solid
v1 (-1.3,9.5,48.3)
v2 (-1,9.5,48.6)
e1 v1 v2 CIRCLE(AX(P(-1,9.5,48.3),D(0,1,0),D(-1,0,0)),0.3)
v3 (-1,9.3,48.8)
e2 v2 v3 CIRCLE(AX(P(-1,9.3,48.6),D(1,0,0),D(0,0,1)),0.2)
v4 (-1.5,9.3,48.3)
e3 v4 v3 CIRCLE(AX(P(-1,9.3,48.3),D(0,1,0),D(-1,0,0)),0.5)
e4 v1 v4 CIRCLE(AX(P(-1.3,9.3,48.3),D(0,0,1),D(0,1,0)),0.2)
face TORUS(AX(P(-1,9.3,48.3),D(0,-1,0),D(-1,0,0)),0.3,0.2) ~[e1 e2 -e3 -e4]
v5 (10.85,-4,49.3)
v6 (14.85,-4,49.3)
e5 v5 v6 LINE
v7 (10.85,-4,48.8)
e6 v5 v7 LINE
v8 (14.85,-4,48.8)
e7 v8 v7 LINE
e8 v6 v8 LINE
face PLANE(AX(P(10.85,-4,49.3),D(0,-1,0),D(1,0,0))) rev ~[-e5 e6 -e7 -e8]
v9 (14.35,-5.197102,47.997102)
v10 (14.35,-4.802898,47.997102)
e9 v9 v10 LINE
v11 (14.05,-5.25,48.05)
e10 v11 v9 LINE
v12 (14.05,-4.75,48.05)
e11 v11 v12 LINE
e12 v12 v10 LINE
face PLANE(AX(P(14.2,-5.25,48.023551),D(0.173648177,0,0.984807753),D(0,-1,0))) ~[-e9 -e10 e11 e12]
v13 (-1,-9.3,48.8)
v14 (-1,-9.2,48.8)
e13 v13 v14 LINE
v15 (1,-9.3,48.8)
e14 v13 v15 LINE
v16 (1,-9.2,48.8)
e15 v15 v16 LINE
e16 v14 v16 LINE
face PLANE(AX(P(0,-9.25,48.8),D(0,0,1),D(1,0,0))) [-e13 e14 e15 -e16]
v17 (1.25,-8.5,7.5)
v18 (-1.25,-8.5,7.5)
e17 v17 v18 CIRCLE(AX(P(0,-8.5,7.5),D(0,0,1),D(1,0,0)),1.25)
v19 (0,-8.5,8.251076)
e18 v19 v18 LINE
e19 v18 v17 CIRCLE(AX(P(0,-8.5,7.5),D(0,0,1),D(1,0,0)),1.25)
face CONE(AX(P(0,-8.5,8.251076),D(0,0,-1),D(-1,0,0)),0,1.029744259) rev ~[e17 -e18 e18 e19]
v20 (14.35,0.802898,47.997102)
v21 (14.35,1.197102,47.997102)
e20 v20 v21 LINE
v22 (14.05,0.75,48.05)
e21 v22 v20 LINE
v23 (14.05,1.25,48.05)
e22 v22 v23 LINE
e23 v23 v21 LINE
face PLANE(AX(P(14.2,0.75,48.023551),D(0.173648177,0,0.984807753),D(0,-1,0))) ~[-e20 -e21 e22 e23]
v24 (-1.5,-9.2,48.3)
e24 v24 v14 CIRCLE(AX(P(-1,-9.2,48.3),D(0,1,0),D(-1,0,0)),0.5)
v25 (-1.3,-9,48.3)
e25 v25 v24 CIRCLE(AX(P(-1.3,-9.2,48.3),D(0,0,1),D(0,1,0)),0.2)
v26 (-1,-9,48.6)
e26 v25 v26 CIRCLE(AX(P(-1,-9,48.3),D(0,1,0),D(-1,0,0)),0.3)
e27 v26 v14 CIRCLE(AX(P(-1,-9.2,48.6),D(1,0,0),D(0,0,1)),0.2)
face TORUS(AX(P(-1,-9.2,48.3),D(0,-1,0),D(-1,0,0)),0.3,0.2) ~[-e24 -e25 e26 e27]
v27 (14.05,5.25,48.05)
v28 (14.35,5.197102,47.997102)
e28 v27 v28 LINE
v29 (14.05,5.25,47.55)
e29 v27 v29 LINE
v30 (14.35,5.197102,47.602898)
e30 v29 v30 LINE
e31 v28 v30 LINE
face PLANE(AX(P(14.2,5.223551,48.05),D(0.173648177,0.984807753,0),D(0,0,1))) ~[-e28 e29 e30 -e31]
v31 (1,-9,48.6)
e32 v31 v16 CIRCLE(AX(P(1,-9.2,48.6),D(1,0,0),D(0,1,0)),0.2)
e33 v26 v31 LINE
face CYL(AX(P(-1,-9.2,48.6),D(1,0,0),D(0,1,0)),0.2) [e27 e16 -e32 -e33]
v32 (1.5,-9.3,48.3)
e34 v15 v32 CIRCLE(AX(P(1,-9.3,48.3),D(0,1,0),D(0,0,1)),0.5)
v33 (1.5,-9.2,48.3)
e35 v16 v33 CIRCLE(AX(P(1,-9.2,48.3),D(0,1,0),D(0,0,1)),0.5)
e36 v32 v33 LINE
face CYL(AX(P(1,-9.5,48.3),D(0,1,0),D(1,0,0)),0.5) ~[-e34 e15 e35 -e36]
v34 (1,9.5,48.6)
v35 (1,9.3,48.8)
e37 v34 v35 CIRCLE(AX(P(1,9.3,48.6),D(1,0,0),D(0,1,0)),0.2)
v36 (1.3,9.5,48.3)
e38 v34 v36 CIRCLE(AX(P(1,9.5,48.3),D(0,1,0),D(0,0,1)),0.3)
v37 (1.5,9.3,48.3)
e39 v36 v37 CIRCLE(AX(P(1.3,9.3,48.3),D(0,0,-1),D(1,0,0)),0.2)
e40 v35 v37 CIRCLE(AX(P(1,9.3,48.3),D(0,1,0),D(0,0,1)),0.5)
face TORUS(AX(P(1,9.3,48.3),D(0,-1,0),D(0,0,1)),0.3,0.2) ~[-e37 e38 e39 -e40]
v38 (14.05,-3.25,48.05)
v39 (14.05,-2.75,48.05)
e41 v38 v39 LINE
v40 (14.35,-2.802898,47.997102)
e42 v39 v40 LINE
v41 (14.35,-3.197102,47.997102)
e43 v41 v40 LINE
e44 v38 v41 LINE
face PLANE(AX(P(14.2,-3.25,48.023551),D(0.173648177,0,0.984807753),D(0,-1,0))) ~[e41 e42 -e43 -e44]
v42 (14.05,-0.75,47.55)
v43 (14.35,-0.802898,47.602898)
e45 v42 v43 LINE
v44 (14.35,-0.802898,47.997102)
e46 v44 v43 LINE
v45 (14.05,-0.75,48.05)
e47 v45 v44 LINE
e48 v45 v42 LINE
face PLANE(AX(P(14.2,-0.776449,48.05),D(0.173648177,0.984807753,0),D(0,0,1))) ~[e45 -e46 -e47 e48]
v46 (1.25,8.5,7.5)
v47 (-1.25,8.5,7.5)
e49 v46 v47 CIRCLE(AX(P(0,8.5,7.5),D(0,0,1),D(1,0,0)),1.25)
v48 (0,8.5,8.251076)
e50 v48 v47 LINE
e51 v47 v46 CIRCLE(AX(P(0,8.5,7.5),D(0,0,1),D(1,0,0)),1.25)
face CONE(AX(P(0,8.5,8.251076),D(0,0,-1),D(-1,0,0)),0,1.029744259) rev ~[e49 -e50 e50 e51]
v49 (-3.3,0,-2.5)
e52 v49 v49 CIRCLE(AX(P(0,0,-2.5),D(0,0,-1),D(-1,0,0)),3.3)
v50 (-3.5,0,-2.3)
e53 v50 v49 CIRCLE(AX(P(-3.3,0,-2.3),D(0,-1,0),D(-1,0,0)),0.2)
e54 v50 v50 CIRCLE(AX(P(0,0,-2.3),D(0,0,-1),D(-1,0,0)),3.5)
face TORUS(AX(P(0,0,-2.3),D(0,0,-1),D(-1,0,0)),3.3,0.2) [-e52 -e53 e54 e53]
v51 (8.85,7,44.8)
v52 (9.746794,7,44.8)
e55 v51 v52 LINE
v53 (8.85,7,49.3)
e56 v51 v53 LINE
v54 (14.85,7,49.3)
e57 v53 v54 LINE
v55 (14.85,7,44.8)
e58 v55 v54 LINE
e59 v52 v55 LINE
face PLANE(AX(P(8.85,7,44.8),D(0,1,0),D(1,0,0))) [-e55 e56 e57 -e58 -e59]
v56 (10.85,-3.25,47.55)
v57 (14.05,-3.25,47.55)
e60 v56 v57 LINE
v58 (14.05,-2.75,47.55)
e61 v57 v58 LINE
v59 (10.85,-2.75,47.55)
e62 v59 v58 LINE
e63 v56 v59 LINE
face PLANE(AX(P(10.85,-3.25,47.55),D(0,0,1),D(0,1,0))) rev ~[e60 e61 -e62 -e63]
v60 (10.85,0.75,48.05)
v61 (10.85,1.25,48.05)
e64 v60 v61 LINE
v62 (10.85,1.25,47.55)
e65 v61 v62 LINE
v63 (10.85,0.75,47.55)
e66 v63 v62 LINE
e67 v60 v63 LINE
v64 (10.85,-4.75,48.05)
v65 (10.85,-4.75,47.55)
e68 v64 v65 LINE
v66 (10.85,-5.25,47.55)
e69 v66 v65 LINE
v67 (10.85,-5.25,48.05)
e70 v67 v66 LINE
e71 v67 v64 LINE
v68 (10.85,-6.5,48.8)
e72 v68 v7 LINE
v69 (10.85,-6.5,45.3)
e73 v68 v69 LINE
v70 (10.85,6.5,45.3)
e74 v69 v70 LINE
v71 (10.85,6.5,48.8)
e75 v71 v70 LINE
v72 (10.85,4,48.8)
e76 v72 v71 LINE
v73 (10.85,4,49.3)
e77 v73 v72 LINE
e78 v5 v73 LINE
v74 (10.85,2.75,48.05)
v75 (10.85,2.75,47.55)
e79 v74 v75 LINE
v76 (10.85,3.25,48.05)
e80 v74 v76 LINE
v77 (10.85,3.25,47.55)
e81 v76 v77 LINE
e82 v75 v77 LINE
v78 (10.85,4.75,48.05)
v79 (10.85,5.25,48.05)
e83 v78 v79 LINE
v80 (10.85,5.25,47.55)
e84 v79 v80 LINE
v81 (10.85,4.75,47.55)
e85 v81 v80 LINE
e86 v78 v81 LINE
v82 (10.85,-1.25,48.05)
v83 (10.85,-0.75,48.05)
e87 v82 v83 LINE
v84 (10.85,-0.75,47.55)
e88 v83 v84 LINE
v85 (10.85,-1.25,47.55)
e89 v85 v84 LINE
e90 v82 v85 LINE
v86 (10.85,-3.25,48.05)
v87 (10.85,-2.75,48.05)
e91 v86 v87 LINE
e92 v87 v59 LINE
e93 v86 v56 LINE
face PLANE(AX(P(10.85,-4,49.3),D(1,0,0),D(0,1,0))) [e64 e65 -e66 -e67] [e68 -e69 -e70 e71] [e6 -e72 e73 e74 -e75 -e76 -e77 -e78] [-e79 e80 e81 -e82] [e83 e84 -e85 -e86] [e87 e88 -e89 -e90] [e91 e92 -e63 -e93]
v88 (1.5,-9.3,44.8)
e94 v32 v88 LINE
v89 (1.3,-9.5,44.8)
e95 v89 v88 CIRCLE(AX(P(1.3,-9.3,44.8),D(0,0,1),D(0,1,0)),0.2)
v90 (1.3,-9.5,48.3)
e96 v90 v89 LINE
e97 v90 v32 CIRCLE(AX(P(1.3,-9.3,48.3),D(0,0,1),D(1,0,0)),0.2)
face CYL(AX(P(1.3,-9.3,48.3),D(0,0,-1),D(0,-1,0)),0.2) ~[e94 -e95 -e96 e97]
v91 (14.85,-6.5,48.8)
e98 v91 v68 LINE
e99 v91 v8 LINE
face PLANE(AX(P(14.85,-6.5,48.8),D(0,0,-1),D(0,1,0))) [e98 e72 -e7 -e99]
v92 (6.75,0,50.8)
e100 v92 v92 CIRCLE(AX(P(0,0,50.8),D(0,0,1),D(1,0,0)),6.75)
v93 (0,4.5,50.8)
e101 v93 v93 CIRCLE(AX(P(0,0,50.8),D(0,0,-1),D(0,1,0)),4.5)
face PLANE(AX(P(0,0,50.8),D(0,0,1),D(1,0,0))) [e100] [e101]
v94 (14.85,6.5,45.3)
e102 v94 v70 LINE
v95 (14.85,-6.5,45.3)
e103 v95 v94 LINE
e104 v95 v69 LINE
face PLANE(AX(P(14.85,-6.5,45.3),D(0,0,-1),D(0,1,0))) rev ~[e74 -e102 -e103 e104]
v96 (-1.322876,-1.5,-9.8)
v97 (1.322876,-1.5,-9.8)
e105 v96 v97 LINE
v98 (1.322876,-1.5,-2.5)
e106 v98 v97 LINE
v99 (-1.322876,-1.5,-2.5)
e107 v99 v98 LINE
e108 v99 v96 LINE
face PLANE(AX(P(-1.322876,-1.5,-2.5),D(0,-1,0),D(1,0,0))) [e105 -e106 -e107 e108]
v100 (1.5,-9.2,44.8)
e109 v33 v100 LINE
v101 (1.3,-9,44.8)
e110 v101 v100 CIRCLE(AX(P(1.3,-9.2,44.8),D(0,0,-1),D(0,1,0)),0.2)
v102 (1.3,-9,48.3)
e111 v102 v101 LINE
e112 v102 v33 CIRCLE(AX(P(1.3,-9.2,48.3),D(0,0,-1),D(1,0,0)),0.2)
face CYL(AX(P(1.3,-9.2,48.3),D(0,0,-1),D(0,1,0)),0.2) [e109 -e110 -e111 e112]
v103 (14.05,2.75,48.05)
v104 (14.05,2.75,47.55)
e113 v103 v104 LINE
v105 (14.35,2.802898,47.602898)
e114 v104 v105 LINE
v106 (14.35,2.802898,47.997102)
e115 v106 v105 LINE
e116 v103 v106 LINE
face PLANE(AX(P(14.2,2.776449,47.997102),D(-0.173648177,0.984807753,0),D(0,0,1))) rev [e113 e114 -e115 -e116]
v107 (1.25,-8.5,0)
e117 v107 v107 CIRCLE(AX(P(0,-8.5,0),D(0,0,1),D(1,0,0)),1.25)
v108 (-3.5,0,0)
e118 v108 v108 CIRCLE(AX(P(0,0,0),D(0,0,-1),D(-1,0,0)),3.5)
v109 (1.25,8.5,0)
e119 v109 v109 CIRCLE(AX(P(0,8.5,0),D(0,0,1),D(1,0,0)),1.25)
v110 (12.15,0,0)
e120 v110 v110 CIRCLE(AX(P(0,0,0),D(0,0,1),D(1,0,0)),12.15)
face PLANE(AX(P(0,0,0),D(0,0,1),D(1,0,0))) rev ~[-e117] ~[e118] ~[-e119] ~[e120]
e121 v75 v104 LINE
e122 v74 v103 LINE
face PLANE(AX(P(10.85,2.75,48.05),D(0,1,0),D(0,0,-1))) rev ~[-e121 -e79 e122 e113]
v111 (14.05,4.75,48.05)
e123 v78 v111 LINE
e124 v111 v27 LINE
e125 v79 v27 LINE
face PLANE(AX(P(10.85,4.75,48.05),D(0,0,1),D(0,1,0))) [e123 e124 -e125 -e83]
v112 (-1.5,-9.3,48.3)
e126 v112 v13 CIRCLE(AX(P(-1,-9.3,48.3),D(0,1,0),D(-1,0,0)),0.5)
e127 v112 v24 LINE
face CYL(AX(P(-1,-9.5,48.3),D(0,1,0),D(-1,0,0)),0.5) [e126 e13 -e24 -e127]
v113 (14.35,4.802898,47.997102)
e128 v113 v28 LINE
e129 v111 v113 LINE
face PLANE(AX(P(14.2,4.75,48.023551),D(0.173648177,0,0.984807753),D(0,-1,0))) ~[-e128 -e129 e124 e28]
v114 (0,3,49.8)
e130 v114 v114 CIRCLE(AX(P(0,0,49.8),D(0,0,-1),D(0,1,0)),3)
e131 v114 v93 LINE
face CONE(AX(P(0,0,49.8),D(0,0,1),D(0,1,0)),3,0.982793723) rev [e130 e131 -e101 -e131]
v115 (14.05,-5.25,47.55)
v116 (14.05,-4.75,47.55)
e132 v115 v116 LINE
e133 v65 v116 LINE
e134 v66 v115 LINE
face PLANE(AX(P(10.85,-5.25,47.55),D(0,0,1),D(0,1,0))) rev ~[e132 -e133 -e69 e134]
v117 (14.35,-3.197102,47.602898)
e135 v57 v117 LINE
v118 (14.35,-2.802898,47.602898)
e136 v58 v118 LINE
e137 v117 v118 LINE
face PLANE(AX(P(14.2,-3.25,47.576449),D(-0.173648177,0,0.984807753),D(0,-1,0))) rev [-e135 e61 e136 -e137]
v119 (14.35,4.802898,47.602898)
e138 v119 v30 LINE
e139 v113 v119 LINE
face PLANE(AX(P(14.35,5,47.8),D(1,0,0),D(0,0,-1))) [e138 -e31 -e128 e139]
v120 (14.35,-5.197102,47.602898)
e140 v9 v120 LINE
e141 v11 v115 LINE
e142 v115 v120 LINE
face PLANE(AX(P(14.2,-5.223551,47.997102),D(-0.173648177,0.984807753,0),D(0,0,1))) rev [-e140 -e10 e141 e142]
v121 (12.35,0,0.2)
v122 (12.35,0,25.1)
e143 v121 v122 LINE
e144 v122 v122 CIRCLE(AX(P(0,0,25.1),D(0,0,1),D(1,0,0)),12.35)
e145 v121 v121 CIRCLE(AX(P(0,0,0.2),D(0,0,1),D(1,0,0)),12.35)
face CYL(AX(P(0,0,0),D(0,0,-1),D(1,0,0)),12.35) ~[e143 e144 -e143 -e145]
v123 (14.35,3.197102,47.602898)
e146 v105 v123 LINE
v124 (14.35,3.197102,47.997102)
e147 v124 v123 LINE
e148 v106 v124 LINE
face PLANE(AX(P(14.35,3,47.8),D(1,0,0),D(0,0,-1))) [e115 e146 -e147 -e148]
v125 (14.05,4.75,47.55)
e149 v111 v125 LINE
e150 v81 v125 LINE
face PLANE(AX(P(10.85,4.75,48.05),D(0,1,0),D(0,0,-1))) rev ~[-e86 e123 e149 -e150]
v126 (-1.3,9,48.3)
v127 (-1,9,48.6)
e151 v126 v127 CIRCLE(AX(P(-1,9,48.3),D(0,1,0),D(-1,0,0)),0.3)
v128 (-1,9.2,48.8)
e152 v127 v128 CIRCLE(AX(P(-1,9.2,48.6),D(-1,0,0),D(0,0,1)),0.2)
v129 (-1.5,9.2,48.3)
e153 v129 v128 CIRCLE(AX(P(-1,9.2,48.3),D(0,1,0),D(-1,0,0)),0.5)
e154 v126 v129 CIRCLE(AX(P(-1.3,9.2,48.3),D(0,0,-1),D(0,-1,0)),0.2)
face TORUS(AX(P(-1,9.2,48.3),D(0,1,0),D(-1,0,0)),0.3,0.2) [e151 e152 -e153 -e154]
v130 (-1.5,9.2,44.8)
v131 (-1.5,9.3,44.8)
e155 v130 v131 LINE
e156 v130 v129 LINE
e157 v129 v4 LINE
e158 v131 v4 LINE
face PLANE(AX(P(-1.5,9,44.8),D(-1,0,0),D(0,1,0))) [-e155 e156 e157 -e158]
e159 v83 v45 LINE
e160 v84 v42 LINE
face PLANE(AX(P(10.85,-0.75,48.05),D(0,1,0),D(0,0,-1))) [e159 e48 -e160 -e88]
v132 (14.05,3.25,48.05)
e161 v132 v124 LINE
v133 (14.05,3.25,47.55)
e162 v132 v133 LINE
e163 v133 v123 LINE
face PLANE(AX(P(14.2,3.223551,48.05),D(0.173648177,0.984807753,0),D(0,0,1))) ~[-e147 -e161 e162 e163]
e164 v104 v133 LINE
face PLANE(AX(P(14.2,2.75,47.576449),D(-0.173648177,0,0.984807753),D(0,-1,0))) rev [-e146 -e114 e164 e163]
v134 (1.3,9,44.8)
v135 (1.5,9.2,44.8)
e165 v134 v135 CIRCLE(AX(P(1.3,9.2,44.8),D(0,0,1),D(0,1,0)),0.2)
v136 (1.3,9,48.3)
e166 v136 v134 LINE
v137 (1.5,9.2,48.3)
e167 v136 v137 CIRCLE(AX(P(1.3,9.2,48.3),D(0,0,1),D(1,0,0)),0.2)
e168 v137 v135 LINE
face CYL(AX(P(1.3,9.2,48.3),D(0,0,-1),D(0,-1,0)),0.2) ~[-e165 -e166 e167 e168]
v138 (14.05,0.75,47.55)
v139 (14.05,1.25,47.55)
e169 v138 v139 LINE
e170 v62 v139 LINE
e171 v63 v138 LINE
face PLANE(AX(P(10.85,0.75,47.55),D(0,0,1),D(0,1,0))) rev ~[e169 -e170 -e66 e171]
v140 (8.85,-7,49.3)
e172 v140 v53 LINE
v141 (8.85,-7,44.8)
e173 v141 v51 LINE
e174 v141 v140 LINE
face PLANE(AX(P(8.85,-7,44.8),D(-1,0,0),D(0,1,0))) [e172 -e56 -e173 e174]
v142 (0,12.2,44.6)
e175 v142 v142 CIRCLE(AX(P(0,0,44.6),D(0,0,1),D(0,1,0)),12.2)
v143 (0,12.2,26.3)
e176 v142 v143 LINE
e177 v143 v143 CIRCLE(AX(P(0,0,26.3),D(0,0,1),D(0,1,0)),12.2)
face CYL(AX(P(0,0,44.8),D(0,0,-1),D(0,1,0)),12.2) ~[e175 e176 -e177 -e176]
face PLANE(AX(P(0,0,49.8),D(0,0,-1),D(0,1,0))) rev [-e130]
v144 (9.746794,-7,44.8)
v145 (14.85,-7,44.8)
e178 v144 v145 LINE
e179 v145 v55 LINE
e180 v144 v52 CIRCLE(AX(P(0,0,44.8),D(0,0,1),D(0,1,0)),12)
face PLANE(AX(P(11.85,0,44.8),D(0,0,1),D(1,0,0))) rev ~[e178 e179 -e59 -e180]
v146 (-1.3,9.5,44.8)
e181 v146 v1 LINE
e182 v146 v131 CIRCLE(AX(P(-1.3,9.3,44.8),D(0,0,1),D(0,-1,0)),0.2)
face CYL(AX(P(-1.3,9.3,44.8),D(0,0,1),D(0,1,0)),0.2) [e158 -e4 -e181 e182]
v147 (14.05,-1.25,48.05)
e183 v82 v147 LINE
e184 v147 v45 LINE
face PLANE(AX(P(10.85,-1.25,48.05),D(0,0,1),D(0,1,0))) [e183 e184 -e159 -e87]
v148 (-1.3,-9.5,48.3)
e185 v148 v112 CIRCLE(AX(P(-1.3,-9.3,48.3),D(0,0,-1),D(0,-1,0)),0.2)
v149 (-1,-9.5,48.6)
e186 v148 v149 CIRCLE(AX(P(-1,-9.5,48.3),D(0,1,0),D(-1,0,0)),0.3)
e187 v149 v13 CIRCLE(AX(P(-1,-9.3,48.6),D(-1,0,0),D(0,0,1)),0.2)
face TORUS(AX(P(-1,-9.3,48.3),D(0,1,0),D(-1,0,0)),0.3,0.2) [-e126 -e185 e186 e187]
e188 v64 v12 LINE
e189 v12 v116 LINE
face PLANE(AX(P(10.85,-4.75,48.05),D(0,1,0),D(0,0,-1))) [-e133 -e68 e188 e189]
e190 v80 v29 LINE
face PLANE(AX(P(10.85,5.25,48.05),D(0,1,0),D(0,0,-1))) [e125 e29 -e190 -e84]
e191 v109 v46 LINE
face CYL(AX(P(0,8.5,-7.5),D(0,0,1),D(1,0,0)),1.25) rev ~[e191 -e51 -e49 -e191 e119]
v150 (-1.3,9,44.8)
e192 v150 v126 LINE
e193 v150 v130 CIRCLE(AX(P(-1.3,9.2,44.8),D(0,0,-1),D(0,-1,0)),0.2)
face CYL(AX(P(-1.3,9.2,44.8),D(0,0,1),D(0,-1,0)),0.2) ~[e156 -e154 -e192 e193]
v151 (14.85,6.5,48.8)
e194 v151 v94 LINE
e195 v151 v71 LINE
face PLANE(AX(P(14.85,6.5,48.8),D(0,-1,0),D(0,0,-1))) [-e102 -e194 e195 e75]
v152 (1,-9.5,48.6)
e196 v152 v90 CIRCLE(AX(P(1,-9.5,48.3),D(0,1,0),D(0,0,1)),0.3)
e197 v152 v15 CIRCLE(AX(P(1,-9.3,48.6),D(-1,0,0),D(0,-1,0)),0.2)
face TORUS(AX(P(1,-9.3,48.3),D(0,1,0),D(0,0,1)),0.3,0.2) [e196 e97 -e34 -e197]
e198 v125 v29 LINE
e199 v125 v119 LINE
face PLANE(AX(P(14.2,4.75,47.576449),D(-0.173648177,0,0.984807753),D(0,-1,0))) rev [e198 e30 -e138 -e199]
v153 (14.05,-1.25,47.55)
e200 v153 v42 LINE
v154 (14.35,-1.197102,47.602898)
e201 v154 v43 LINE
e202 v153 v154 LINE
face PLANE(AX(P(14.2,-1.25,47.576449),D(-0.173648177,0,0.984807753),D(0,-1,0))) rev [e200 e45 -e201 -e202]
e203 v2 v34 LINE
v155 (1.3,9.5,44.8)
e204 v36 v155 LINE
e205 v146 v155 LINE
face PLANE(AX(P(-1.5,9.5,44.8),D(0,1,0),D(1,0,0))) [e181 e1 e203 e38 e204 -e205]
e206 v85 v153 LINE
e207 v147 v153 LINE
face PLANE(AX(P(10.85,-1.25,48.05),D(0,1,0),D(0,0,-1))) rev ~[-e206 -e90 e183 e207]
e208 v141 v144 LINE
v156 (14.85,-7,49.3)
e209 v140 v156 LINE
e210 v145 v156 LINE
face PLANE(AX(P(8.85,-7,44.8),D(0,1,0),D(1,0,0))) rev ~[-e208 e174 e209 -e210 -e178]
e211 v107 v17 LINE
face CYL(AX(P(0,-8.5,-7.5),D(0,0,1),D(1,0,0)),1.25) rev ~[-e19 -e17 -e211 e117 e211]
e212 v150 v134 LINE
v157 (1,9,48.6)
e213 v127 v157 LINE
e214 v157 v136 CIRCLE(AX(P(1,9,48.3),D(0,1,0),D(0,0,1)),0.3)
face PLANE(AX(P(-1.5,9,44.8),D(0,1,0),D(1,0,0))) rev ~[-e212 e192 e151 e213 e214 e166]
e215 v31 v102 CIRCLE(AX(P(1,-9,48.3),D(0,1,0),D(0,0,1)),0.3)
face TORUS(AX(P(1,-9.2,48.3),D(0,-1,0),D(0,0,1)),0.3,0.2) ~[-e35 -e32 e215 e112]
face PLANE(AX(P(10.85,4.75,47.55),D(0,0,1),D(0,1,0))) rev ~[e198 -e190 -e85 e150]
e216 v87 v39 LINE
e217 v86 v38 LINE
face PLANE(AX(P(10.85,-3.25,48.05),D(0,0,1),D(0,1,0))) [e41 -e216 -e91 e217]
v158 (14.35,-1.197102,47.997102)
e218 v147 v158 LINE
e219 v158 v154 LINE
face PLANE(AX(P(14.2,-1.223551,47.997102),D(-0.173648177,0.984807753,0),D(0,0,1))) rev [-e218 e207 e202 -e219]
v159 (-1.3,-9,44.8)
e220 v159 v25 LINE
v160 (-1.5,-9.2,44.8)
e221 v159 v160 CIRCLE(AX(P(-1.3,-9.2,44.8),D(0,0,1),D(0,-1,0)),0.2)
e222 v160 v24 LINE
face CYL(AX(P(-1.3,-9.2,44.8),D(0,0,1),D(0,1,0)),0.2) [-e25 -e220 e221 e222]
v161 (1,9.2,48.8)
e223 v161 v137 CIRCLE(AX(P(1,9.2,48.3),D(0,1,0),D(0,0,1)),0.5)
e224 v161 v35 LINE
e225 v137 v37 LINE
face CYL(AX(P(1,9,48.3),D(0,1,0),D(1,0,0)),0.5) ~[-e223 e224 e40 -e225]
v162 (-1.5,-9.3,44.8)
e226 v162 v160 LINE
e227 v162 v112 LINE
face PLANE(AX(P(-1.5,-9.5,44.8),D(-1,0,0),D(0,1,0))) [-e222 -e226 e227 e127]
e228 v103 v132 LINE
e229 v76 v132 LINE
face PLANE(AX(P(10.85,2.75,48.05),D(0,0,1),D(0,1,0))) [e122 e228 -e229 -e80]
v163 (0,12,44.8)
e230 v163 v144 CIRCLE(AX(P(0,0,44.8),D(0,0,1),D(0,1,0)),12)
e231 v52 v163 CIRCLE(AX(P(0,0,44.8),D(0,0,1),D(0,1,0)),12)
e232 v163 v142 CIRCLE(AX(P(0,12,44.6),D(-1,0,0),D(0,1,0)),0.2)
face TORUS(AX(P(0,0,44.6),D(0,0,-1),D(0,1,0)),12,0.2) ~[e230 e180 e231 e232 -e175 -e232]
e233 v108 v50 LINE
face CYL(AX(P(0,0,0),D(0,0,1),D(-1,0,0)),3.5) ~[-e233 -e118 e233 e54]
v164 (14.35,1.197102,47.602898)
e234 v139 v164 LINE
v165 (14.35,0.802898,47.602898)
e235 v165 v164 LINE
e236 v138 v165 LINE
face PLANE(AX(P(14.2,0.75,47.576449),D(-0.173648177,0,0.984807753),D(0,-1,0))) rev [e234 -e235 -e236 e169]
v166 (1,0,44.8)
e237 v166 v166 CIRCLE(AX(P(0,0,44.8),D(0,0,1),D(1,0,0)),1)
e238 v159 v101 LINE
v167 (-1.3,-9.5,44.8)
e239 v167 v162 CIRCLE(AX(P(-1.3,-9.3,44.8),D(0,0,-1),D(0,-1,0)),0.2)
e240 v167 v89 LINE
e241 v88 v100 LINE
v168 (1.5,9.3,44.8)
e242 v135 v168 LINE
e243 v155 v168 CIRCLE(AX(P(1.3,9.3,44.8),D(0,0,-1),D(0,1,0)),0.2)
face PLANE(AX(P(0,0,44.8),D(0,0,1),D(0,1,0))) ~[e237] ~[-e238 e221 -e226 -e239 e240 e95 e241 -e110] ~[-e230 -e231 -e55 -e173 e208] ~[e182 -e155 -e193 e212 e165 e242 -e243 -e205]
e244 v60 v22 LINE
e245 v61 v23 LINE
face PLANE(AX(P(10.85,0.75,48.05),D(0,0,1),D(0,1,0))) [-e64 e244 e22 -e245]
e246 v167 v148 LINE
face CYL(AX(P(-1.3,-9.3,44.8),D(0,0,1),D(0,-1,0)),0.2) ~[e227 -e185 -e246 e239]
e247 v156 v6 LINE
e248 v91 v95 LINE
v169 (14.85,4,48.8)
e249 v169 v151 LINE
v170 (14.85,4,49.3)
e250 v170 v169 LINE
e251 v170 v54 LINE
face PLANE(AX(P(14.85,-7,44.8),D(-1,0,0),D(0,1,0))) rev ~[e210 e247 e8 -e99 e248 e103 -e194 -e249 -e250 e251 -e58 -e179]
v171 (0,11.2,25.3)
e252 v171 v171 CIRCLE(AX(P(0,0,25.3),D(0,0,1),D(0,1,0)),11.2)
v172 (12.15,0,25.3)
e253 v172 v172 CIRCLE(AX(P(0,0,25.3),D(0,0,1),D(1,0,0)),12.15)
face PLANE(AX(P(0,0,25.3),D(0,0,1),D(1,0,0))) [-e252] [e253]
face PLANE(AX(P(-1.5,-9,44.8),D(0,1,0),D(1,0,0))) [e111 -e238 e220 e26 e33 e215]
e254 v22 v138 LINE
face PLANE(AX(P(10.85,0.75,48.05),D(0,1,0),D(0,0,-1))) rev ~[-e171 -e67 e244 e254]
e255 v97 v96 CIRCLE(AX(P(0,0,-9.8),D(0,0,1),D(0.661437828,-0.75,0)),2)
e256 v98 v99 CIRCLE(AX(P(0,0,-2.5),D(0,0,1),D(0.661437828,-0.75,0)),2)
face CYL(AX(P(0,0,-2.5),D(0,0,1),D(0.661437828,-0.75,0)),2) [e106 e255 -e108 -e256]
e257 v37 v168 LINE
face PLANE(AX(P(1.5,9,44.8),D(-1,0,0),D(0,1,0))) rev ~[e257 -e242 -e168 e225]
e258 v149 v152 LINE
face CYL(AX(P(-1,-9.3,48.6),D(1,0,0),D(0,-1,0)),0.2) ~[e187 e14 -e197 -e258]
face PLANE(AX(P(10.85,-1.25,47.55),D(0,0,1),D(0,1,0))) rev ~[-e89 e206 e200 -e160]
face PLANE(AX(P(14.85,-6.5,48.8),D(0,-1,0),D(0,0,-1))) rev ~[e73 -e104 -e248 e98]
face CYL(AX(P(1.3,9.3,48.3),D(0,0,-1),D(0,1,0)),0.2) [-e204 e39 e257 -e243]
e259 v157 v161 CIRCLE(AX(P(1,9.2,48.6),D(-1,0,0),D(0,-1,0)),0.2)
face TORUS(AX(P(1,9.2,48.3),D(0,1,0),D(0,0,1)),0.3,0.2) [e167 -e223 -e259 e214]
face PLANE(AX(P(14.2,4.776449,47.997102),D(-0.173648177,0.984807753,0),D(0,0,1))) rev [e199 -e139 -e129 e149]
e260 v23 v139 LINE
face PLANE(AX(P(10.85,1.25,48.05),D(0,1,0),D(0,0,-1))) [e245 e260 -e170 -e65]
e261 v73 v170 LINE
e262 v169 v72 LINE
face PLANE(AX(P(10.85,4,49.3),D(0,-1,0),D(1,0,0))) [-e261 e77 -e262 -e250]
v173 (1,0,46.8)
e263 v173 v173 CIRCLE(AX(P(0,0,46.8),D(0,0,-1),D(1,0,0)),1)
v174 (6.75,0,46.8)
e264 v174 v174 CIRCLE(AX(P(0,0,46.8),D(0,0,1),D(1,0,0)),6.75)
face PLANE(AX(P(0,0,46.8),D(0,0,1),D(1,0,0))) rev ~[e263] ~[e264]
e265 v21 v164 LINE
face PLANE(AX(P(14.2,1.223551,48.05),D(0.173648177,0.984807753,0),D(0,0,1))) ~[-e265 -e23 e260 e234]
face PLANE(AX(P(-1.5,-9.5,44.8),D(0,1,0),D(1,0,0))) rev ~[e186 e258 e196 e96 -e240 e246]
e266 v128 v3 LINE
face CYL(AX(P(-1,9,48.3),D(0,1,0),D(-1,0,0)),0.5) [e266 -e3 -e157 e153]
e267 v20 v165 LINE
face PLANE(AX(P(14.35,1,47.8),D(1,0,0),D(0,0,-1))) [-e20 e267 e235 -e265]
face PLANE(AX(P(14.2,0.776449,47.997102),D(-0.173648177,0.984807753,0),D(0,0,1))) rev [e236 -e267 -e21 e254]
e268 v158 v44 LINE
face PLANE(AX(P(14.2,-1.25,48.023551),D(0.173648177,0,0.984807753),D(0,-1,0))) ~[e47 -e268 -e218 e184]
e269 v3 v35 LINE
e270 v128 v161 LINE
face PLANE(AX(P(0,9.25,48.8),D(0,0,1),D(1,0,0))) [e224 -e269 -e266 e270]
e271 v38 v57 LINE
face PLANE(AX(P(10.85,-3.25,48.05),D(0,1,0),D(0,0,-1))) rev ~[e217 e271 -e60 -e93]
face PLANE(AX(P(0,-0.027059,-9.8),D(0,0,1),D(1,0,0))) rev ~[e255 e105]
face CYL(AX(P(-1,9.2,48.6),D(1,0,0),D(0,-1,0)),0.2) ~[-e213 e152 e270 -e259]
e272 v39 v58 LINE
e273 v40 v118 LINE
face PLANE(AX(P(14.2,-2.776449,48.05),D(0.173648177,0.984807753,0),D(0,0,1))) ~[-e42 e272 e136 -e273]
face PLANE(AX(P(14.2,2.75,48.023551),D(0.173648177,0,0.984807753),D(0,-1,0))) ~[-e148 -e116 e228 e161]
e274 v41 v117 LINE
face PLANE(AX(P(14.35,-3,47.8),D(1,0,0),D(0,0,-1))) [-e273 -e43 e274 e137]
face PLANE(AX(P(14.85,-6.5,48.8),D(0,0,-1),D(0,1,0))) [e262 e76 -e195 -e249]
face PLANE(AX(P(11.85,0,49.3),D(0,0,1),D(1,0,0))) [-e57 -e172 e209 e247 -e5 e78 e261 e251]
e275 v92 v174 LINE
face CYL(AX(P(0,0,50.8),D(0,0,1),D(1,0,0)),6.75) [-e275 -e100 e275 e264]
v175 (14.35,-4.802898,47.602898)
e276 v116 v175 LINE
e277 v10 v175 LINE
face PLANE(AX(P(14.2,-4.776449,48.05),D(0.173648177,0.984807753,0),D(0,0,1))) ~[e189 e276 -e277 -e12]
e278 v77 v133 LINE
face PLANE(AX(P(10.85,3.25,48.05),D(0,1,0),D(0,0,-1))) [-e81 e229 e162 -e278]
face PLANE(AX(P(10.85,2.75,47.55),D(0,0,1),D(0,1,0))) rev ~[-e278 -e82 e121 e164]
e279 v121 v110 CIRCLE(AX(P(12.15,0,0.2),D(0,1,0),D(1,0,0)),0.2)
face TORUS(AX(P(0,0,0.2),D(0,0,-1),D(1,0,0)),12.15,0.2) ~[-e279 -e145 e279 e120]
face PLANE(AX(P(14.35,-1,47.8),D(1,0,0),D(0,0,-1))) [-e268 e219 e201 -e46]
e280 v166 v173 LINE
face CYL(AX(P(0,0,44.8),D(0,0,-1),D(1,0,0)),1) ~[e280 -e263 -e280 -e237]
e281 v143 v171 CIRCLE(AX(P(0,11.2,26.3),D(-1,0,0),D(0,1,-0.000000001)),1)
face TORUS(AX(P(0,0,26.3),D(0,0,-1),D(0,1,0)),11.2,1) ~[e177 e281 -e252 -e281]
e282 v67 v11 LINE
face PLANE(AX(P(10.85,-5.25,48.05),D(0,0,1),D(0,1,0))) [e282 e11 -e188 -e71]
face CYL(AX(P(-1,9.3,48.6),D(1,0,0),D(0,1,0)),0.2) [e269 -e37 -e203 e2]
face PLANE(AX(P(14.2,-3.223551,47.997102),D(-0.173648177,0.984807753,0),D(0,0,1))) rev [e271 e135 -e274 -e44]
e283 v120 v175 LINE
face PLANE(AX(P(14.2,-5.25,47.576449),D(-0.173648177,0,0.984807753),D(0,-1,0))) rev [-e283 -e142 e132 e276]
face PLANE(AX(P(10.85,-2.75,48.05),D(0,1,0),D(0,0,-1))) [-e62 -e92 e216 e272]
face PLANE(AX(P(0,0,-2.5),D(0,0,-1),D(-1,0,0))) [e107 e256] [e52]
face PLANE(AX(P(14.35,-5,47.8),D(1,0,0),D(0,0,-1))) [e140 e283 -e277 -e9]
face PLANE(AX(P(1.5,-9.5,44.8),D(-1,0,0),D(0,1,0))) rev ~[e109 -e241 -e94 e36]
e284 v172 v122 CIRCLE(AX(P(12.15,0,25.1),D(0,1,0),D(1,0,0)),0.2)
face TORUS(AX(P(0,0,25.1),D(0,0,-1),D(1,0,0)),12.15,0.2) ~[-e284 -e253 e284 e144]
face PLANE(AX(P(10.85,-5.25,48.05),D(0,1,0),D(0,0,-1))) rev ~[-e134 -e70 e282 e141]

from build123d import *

# Parameters (mm, degrees)
SKETCH1_R              = 12.35
BOSS_EXTRUDE1_DEPTH    = 25.3
SKETCH3_R              = 1
BOSS_EXTRUDE2_DEPTH    = 6
SKETCH4_W              = 3
SKETCH4_H              = 0.5
BOSS_EXTRUDE3_DEPTH    = 4
FILLET2_R              = 0.5
FILLET3_R              = 0.2
SKETCH5_R              = 3.5
BOSS_EXTRUDE4_DEPTH    = 2.5
FILLET4_R              = 0.2
BOSS_EXTRUDE5_DEPTH    = 7.3
M3_TAPPED_HOLE1_D      = 2.5
M3_TAPPED_HOLE1_DEPTH  = 7.5
M3_TAPPED_HOLE1_TIP    = 0.751075774
SKETCH9_R              = 6.75
BOSS_EXTRUDE6_DEPTH    = 4
SKETCH10_W             = 6
SKETCH10_H             = 14
BOSS_EXTRUDE7_DEPTH    = 4.5
SKETCH11_W             = 3.5
SKETCH11_H             = 13
CUT_EXTRUDE1_DEPTH     = 4
SKETCH12_W             = 4
SKETCH12_H             = 8
CUT_EXTRUDE2_DEPTH     = 2.5
SKETCH13_W             = 0.5
SKETCH13_H             = 0.5
BOSS_EXTRUDE8_DEPTH    = 3.5
CHAMFER1_SIZE          = 0.3
CHAMFER1_SIZE2         = 0.052898094
CHAMFER1_PART_2_SIZE   = 0.3
CHAMFER1_PART_2_SIZE2  = 0.052898094
CHAMFER1_PART_3_SIZE   = 0.3
CHAMFER1_PART_3_SIZE2  = 0.052898094
CHAMFER1_PART_4_SIZE   = 0.3
CHAMFER1_PART_4_SIZE2  = 0.052898094
CHAMFER1_PART_5_SIZE   = 0.3
CHAMFER1_PART_5_SIZE2  = 0.052898094
CHAMFER1_PART_6_SIZE   = 0.3
CHAMFER1_PART_6_SIZE2  = 0.052898094
CHAMFER1_PART_7_SIZE   = 0.3
CHAMFER1_PART_7_SIZE2  = 0.052898094
CHAMFER1_PART_8_SIZE   = 0.3
CHAMFER1_PART_8_SIZE2  = 0.052898094
CHAMFER1_PART_9_SIZE   = 0.3
CHAMFER1_PART_9_SIZE2  = 0.052898094
CHAMFER1_PART_10_SIZE  = 0.3
CHAMFER1_PART_10_SIZE2 = 0.052898094
CHAMFER1_PART_11_SIZE  = 0.3
CHAMFER1_PART_11_SIZE2 = 0.052898094
CHAMFER1_PART_12_SIZE  = 0.3
CHAMFER1_PART_12_SIZE2 = 0.052898094
CHAMFER1_PART_13_SIZE  = 0.3
CHAMFER1_PART_13_SIZE2 = 0.052898094
CHAMFER1_PART_14_SIZE  = 0.3
CHAMFER1_PART_14_SIZE2 = 0.052898094
CHAMFER1_PART_15_SIZE  = 0.3
CHAMFER1_PART_15_SIZE2 = 0.052898094
CHAMFER1_PART_16_SIZE  = 0.3
CHAMFER1_PART_16_SIZE2 = 0.052898094
CHAMFER1_PART_17_SIZE  = 0.3
CHAMFER1_PART_17_SIZE2 = 0.052898094
CHAMFER1_PART_18_SIZE  = 0.3
CHAMFER1_PART_18_SIZE2 = 0.052898094
CHAMFER1_PART_19_SIZE  = 0.3
CHAMFER1_PART_19_SIZE2 = 0.052898094
CHAMFER1_PART_20_SIZE  = 0.3
CHAMFER1_PART_20_SIZE2 = 0.052898094
CHAMFER1_PART_21_SIZE  = 0.3
CHAMFER1_PART_21_SIZE2 = 0.052898094
CHAMFER1_PART_22_SIZE  = 0.3
CHAMFER1_PART_22_SIZE2 = 0.052898094
CHAMFER1_PART_23_SIZE  = 0.3
CHAMFER1_PART_23_SIZE2 = 0.052898094
CHAMFER1_PART_24_SIZE  = 0.3
CHAMFER1_PART_24_SIZE2 = 0.052898094


with BuildPart() as part:
    # Sketch1 → Boss-Extrude1 (new body)
    with BuildSketch(Plane.XY):
        Circle(SKETCH1_R)
    extrude(amount=BOSS_EXTRUDE1_DEPTH)

    # Sketch2 → Revolve1 (revolve)
    with BuildSketch(Plane(origin=(0, 0, 0), x_dir=(0, 0, -1), z_dir=(1, 0, 0))):
        with BuildLine():
            Line((-25.3, 0), (-44.8, 0))
            Line((-44.8, 0), (-44.8, 12.2))
            Line((-44.8, 12.2), (-26.3, 12.2))
            ThreePointArc((-26.3, 12.2), (-25.592893219, 11.907106781), (-25.3, 11.2))
            Line((-25.3, 11.2), (-25.3, 0))
        make_face()
    revolve(axis=Axis((0, 0, 25.3), (0, 0, 1)))

    # Sketch3 → Boss-Extrude2 (add)
    with BuildSketch(Plane.XY.offset(44.8)):
        Circle(SKETCH3_R)
    extrude(amount=BOSS_EXTRUDE2_DEPTH)

    # Sketch4 → Boss-Extrude3 (add)
    with BuildSketch(Plane.XY.offset(44.8)):
        with Locations((0, 9.25)):
            Rectangle(SKETCH4_W, SKETCH4_H)
        with Locations((0, -9.25)):
            Rectangle(SKETCH4_W, SKETCH4_H)
    extrude(amount=BOSS_EXTRUDE3_DEPTH)

    # Fillet2
    fillet2_edges = [part.edges().sort_by_distance(p)[0] for p in [
        (1.5, -9.25, 48.8),
        (-1.5, -9.25, 48.8),
        (-1.5, 9.25, 48.8),
        (1.5, 9.25, 48.8),
    ]]
    fillet(fillet2_edges, radius=FILLET2_R)

    # Fillet3
    fillet3_edges = [part.edges().sort_by_distance(p)[0] for p in [
        (-12.35, 0, 0),
        (0, 9, 48.8),
        (0, 9.5, 48.8),
        (-12.35, 0, 25.3),
        (1.5, 9, 46.55),
        (-1.5, 9, 46.55),
        (1.353553391, 9, 48.653553391),
        (-1.353553391, 9, 48.653553391),
        (-1.5, 9.5, 46.55),
        (1.5, 9.5, 46.55),
        (1.353553391, 9.5, 48.653553391),
        (-1.353553391, 9.5, 48.653553391),
        (0, -9, 48.8),
        (0, -9.5, 48.8),
        (1.5, -9.5, 46.55),
        (-1.5, -9.5, 46.55),
        (1.353553391, -9.5, 48.653553391),
        (-1.353553391, -9.5, 48.653553391),
        (-1.5, -9, 46.55),
        (1.5, -9, 46.55),
        (1.353553391, -9, 48.653553391),
        (-1.353553391, -9, 48.653553391),
        (0, -12.2, 44.8),
    ]]
    fillet(fillet3_edges, radius=FILLET3_R)

    # Sketch5 → Boss-Extrude4 (add)
    with BuildSketch(Plane(origin=(0, 0, 0), x_dir=(-1, 0, 0), z_dir=(0, 0, -1))):
        Circle(SKETCH5_R)
    extrude(amount=BOSS_EXTRUDE4_DEPTH)

    # Fillet4
    fillet4_edges = [part.edges().sort_by_distance(p)[0] for p in [
        (3.5, 0, -2.5),
    ]]
    fillet(fillet4_edges, radius=FILLET4_R)

    # Sketch6 → Boss-Extrude5 (add)
    with BuildSketch(Plane(origin=(0, 0, -2.5), x_dir=(-1, 0, 0), z_dir=(0, 0, -1))):
        with BuildLine():
            Line((1.322875656, -1.5), (-1.322875656, -1.5))
            ThreePointArc((-1.322875656, -1.5), (0, 2), (1.322875656, -1.5))
        make_face()
    extrude(amount=BOSS_EXTRUDE5_DEPTH)

    # M3 Tapped Hole1
    with Locations(Plane(origin=(0, -8.5, 0), x_dir=(-1, 0, 0), z_dir=(0, 0, -1))):
        with Locations((0, 0), (0, 17)):
            Hole(M3_TAPPED_HOLE1_D / 2, depth=M3_TAPPED_HOLE1_DEPTH)
            with Locations((0, 0, -(M3_TAPPED_HOLE1_DEPTH + M3_TAPPED_HOLE1_TIP / 2))):  # 118° drill point
                Cone(0, M3_TAPPED_HOLE1_D / 2, M3_TAPPED_HOLE1_TIP, mode=Mode.SUBTRACT)

    # Sketch9 → Boss-Extrude6 (add)
    with BuildSketch(Plane.XY.offset(50.8)):
        Circle(SKETCH9_R)
    extrude(amount=-BOSS_EXTRUDE6_DEPTH)

    # Sketch10 → Boss-Extrude7 (add)
    with BuildSketch(Plane.XY.offset(44.8)):
        with Locations((11.85, 0)):
            Rectangle(SKETCH10_W, SKETCH10_H)
    extrude(amount=BOSS_EXTRUDE7_DEPTH)

    # Sketch11 → Cut-Extrude1 (cut)
    with BuildSketch(Plane(origin=(14.85, 0, 0), x_dir=(0, 0, -1), z_dir=(1, 0, 0))):
        with Locations((-47.05, 0)):
            Rectangle(SKETCH11_W, SKETCH11_H)
    extrude(amount=-CUT_EXTRUDE1_DEPTH, mode=Mode.SUBTRACT)

    # Sketch12 → Cut-Extrude2 (cut)
    with BuildSketch(Plane.XY.offset(49.3)):
        with Locations((12.85, 0)):
            Rectangle(SKETCH12_W, SKETCH12_H)
    extrude(amount=-CUT_EXTRUDE2_DEPTH, mode=Mode.SUBTRACT)

    # Sketch13 → Boss-Extrude8 (add)
    with BuildSketch(Plane(origin=(10.85, 0, 0), x_dir=(0, 0, -1), z_dir=(1, 0, 0))):
        with Locations((-47.8, -5)):
            Rectangle(SKETCH13_W, SKETCH13_H)
        with Locations((-47.8, -3)):
            Rectangle(SKETCH13_W, SKETCH13_H)
        with Locations((-47.8, -1)):
            Rectangle(SKETCH13_W, SKETCH13_H)
        with Locations((-47.8, 1)):
            Rectangle(SKETCH13_W, SKETCH13_H)
        with Locations((-47.8, 3)):
            Rectangle(SKETCH13_W, SKETCH13_H)
        with Locations((-47.8, 5)):
            Rectangle(SKETCH13_W, SKETCH13_H)
    extrude(amount=BOSS_EXTRUDE8_DEPTH)

    # Chamfer1
    chamfer1_edges = [part.edges().sort_by_distance(p)[0] for p in [
        (14.35, -5, 47.55),
    ]]
    chamfer1_side = [part.faces().sort_by_distance(p)[0] for p in [
        (12.6, -5, 47.55),
    ]]
    chamfer(chamfer1_edges, length=CHAMFER1_SIZE, length2=CHAMFER1_SIZE2, reference=chamfer1_side[0])

    # Chamfer1 part 2
    chamfer1_part_2_edges = [part.edges().sort_by_distance(p)[0] for p in [
        (14.35, -4.75, 47.8),
    ]]
    chamfer1_part_2_side = [part.faces().sort_by_distance(p)[0] for p in [
        (12.6, -4.75, 47.8),
    ]]
    chamfer(chamfer1_part_2_edges, length=CHAMFER1_PART_2_SIZE, length2=CHAMFER1_PART_2_SIZE2, reference=chamfer1_part_2_side[0])

    # Chamfer1 part 3
    chamfer1_part_3_edges = [part.edges().sort_by_distance(p)[0] for p in [
        (14.35, -5, 48.05),
    ]]
    chamfer1_part_3_side = [part.faces().sort_by_distance(p)[0] for p in [
        (12.6, -5, 48.05),
    ]]
    chamfer(chamfer1_part_3_edges, length=CHAMFER1_PART_3_SIZE, length2=CHAMFER1_PART_3_SIZE2, reference=chamfer1_part_3_side[0])

    # Chamfer1 part 4
    chamfer1_part_4_edges = [part.edges().sort_by_distance(p)[0] for p in [
        (14.35, -5.25, 47.8),
    ]]
    chamfer1_part_4_side = [part.faces().sort_by_distance(p)[0] for p in [
        (12.6, -5.25, 47.8),
    ]]
    chamfer(chamfer1_part_4_edges, length=CHAMFER1_PART_4_SIZE, length2=CHAMFER1_PART_4_SIZE2, reference=chamfer1_part_4_side[0])

    # Chamfer1 part 5
    chamfer1_part_5_edges = [part.edges().sort_by_distance(p)[0] for p in [
        (14.35, -3, 47.55),
    ]]
    chamfer1_part_5_side = [part.faces().sort_by_distance(p)[0] for p in [
        (12.6, -3, 47.55),
    ]]
    chamfer(chamfer1_part_5_edges, length=CHAMFER1_PART_5_SIZE, length2=CHAMFER1_PART_5_SIZE2, reference=chamfer1_part_5_side[0])

    # Chamfer1 part 6
    chamfer1_part_6_edges = [part.edges().sort_by_distance(p)[0] for p in [
        (14.35, -2.75, 47.8),
    ]]
    chamfer1_part_6_side = [part.faces().sort_by_distance(p)[0] for p in [
        (12.6, -2.75, 47.8),
    ]]
    chamfer(chamfer1_part_6_edges, length=CHAMFER1_PART_6_SIZE, length2=CHAMFER1_PART_6_SIZE2, reference=chamfer1_part_6_side[0])

    # Chamfer1 part 7
    chamfer1_part_7_edges = [part.edges().sort_by_distance(p)[0] for p in [
        (14.35, -3, 48.05),
    ]]
    chamfer1_part_7_side = [part.faces().sort_by_distance(p)[0] for p in [
        (12.6, -3, 48.05),
    ]]
    chamfer(chamfer1_part_7_edges, length=CHAMFER1_PART_7_SIZE, length2=CHAMFER1_PART_7_SIZE2, reference=chamfer1_part_7_side[0])

    # Chamfer1 part 8
    chamfer1_part_8_edges = [part.edges().sort_by_distance(p)[0] for p in [
        (14.35, -3.25, 47.8),
    ]]
    chamfer1_part_8_side = [part.faces().sort_by_distance(p)[0] for p in [
        (12.6, -3.25, 47.8),
    ]]
    chamfer(chamfer1_part_8_edges, length=CHAMFER1_PART_8_SIZE, length2=CHAMFER1_PART_8_SIZE2, reference=chamfer1_part_8_side[0])

    # Chamfer1 part 9
    chamfer1_part_9_edges = [part.edges().sort_by_distance(p)[0] for p in [
        (14.35, -1, 47.55),
    ]]
    chamfer1_part_9_side = [part.faces().sort_by_distance(p)[0] for p in [
        (12.6, -1, 47.55),
    ]]
    chamfer(chamfer1_part_9_edges, length=CHAMFER1_PART_9_SIZE, length2=CHAMFER1_PART_9_SIZE2, reference=chamfer1_part_9_side[0])

    # Chamfer1 part 10
    chamfer1_part_10_edges = [part.edges().sort_by_distance(p)[0] for p in [
        (14.35, -0.75, 47.8),
    ]]
    chamfer1_part_10_side = [part.faces().sort_by_distance(p)[0] for p in [
        (12.6, -0.75, 47.8),
    ]]
    chamfer(chamfer1_part_10_edges, length=CHAMFER1_PART_10_SIZE, length2=CHAMFER1_PART_10_SIZE2, reference=chamfer1_part_10_side[0])

    # Chamfer1 part 11
    chamfer1_part_11_edges = [part.edges().sort_by_distance(p)[0] for p in [
        (14.35, -1, 48.05),
    ]]
    chamfer1_part_11_side = [part.faces().sort_by_distance(p)[0] for p in [
        (12.6, -1, 48.05),
    ]]
    chamfer(chamfer1_part_11_edges, length=CHAMFER1_PART_11_SIZE, length2=CHAMFER1_PART_11_SIZE2, reference=chamfer1_part_11_side[0])

    # Chamfer1 part 12
    chamfer1_part_12_edges = [part.edges().sort_by_distance(p)[0] for p in [
        (14.35, -1.25, 47.8),
    ]]
    chamfer1_part_12_side = [part.faces().sort_by_distance(p)[0] for p in [
        (12.6, -1.25, 47.8),
    ]]
    chamfer(chamfer1_part_12_edges, length=CHAMFER1_PART_12_SIZE, length2=CHAMFER1_PART_12_SIZE2, reference=chamfer1_part_12_side[0])

    # Chamfer1 part 13
    chamfer1_part_13_edges = [part.edges().sort_by_distance(p)[0] for p in [
        (14.35, 1, 47.55),
    ]]
    chamfer1_part_13_side = [part.faces().sort_by_distance(p)[0] for p in [
        (12.6, 1, 47.55),
    ]]
    chamfer(chamfer1_part_13_edges, length=CHAMFER1_PART_13_SIZE, length2=CHAMFER1_PART_13_SIZE2, reference=chamfer1_part_13_side[0])

    # Chamfer1 part 14
    chamfer1_part_14_edges = [part.edges().sort_by_distance(p)[0] for p in [
        (14.35, 1.25, 47.8),
    ]]
    chamfer1_part_14_side = [part.faces().sort_by_distance(p)[0] for p in [
        (12.6, 1.25, 47.8),
    ]]
    chamfer(chamfer1_part_14_edges, length=CHAMFER1_PART_14_SIZE, length2=CHAMFER1_PART_14_SIZE2, reference=chamfer1_part_14_side[0])

    # Chamfer1 part 15
    chamfer1_part_15_edges = [part.edges().sort_by_distance(p)[0] for p in [
        (14.35, 1, 48.05),
    ]]
    chamfer1_part_15_side = [part.faces().sort_by_distance(p)[0] for p in [
        (12.6, 1, 48.05),
    ]]
    chamfer(chamfer1_part_15_edges, length=CHAMFER1_PART_15_SIZE, length2=CHAMFER1_PART_15_SIZE2, reference=chamfer1_part_15_side[0])

    # Chamfer1 part 16
    chamfer1_part_16_edges = [part.edges().sort_by_distance(p)[0] for p in [
        (14.35, 0.75, 47.8),
    ]]
    chamfer1_part_16_side = [part.faces().sort_by_distance(p)[0] for p in [
        (12.6, 0.75, 47.8),
    ]]
    chamfer(chamfer1_part_16_edges, length=CHAMFER1_PART_16_SIZE, length2=CHAMFER1_PART_16_SIZE2, reference=chamfer1_part_16_side[0])

    # Chamfer1 part 17
    chamfer1_part_17_edges = [part.edges().sort_by_distance(p)[0] for p in [
        (14.35, 3, 47.55),
    ]]
    chamfer1_part_17_side = [part.faces().sort_by_distance(p)[0] for p in [
        (12.6, 3, 47.55),
    ]]
    chamfer(chamfer1_part_17_edges, length=CHAMFER1_PART_17_SIZE, length2=CHAMFER1_PART_17_SIZE2, reference=chamfer1_part_17_side[0])

    # Chamfer1 part 18
    chamfer1_part_18_edges = [part.edges().sort_by_distance(p)[0] for p in [
        (14.35, 3.25, 47.8),
    ]]
    chamfer1_part_18_side = [part.faces().sort_by_distance(p)[0] for p in [
        (12.6, 3.25, 47.8),
    ]]
    chamfer(chamfer1_part_18_edges, length=CHAMFER1_PART_18_SIZE, length2=CHAMFER1_PART_18_SIZE2, reference=chamfer1_part_18_side[0])

    # Chamfer1 part 19
    chamfer1_part_19_edges = [part.edges().sort_by_distance(p)[0] for p in [
        (14.35, 3, 48.05),
    ]]
    chamfer1_part_19_side = [part.faces().sort_by_distance(p)[0] for p in [
        (12.6, 3, 48.05),
    ]]
    chamfer(chamfer1_part_19_edges, length=CHAMFER1_PART_19_SIZE, length2=CHAMFER1_PART_19_SIZE2, reference=chamfer1_part_19_side[0])

    # Chamfer1 part 20
    chamfer1_part_20_edges = [part.edges().sort_by_distance(p)[0] for p in [
        (14.35, 2.75, 47.8),
    ]]
    chamfer1_part_20_side = [part.faces().sort_by_distance(p)[0] for p in [
        (12.6, 2.75, 47.8),
    ]]
    chamfer(chamfer1_part_20_edges, length=CHAMFER1_PART_20_SIZE, length2=CHAMFER1_PART_20_SIZE2, reference=chamfer1_part_20_side[0])

    # Chamfer1 part 21
    chamfer1_part_21_edges = [part.edges().sort_by_distance(p)[0] for p in [
        (14.35, 5, 47.55),
    ]]
    chamfer1_part_21_side = [part.faces().sort_by_distance(p)[0] for p in [
        (12.6, 5, 47.55),
    ]]
    chamfer(chamfer1_part_21_edges, length=CHAMFER1_PART_21_SIZE, length2=CHAMFER1_PART_21_SIZE2, reference=chamfer1_part_21_side[0])

    # Chamfer1 part 22
    chamfer1_part_22_edges = [part.edges().sort_by_distance(p)[0] for p in [
        (14.35, 5.25, 47.8),
    ]]
    chamfer1_part_22_side = [part.faces().sort_by_distance(p)[0] for p in [
        (12.6, 5.25, 47.8),
    ]]
    chamfer(chamfer1_part_22_edges, length=CHAMFER1_PART_22_SIZE, length2=CHAMFER1_PART_22_SIZE2, reference=chamfer1_part_22_side[0])

    # Chamfer1 part 23
    chamfer1_part_23_edges = [part.edges().sort_by_distance(p)[0] for p in [
        (14.35, 5, 48.05),
    ]]
    chamfer1_part_23_side = [part.faces().sort_by_distance(p)[0] for p in [
        (12.6, 5, 48.05),
    ]]
    chamfer(chamfer1_part_23_edges, length=CHAMFER1_PART_23_SIZE, length2=CHAMFER1_PART_23_SIZE2, reference=chamfer1_part_23_side[0])

    # Chamfer1 part 24
    chamfer1_part_24_edges = [part.edges().sort_by_distance(p)[0] for p in [
        (14.35, 4.75, 47.8),
    ]]
    chamfer1_part_24_side = [part.faces().sort_by_distance(p)[0] for p in [
        (12.6, 4.75, 47.8),
    ]]
    chamfer(chamfer1_part_24_edges, length=CHAMFER1_PART_24_SIZE, length2=CHAMFER1_PART_24_SIZE2, reference=chamfer1_part_24_side[0])

    # Sketch14 → Cut-Revolve1 (revolve, cut)
    with BuildSketch(Plane(origin=(0, 0, 0), x_dir=(0, 0, -1), z_dir=(1, 0, 0))):
        Polygon((-49.8, 3), (-50.8, 4.5), (-50.8, 0), (-49.8, 0), align=None)
    revolve(axis=Axis((0, 0, 50.8), (0, 0, -1)), mode=Mode.SUBTRACT)


solid = part.part
